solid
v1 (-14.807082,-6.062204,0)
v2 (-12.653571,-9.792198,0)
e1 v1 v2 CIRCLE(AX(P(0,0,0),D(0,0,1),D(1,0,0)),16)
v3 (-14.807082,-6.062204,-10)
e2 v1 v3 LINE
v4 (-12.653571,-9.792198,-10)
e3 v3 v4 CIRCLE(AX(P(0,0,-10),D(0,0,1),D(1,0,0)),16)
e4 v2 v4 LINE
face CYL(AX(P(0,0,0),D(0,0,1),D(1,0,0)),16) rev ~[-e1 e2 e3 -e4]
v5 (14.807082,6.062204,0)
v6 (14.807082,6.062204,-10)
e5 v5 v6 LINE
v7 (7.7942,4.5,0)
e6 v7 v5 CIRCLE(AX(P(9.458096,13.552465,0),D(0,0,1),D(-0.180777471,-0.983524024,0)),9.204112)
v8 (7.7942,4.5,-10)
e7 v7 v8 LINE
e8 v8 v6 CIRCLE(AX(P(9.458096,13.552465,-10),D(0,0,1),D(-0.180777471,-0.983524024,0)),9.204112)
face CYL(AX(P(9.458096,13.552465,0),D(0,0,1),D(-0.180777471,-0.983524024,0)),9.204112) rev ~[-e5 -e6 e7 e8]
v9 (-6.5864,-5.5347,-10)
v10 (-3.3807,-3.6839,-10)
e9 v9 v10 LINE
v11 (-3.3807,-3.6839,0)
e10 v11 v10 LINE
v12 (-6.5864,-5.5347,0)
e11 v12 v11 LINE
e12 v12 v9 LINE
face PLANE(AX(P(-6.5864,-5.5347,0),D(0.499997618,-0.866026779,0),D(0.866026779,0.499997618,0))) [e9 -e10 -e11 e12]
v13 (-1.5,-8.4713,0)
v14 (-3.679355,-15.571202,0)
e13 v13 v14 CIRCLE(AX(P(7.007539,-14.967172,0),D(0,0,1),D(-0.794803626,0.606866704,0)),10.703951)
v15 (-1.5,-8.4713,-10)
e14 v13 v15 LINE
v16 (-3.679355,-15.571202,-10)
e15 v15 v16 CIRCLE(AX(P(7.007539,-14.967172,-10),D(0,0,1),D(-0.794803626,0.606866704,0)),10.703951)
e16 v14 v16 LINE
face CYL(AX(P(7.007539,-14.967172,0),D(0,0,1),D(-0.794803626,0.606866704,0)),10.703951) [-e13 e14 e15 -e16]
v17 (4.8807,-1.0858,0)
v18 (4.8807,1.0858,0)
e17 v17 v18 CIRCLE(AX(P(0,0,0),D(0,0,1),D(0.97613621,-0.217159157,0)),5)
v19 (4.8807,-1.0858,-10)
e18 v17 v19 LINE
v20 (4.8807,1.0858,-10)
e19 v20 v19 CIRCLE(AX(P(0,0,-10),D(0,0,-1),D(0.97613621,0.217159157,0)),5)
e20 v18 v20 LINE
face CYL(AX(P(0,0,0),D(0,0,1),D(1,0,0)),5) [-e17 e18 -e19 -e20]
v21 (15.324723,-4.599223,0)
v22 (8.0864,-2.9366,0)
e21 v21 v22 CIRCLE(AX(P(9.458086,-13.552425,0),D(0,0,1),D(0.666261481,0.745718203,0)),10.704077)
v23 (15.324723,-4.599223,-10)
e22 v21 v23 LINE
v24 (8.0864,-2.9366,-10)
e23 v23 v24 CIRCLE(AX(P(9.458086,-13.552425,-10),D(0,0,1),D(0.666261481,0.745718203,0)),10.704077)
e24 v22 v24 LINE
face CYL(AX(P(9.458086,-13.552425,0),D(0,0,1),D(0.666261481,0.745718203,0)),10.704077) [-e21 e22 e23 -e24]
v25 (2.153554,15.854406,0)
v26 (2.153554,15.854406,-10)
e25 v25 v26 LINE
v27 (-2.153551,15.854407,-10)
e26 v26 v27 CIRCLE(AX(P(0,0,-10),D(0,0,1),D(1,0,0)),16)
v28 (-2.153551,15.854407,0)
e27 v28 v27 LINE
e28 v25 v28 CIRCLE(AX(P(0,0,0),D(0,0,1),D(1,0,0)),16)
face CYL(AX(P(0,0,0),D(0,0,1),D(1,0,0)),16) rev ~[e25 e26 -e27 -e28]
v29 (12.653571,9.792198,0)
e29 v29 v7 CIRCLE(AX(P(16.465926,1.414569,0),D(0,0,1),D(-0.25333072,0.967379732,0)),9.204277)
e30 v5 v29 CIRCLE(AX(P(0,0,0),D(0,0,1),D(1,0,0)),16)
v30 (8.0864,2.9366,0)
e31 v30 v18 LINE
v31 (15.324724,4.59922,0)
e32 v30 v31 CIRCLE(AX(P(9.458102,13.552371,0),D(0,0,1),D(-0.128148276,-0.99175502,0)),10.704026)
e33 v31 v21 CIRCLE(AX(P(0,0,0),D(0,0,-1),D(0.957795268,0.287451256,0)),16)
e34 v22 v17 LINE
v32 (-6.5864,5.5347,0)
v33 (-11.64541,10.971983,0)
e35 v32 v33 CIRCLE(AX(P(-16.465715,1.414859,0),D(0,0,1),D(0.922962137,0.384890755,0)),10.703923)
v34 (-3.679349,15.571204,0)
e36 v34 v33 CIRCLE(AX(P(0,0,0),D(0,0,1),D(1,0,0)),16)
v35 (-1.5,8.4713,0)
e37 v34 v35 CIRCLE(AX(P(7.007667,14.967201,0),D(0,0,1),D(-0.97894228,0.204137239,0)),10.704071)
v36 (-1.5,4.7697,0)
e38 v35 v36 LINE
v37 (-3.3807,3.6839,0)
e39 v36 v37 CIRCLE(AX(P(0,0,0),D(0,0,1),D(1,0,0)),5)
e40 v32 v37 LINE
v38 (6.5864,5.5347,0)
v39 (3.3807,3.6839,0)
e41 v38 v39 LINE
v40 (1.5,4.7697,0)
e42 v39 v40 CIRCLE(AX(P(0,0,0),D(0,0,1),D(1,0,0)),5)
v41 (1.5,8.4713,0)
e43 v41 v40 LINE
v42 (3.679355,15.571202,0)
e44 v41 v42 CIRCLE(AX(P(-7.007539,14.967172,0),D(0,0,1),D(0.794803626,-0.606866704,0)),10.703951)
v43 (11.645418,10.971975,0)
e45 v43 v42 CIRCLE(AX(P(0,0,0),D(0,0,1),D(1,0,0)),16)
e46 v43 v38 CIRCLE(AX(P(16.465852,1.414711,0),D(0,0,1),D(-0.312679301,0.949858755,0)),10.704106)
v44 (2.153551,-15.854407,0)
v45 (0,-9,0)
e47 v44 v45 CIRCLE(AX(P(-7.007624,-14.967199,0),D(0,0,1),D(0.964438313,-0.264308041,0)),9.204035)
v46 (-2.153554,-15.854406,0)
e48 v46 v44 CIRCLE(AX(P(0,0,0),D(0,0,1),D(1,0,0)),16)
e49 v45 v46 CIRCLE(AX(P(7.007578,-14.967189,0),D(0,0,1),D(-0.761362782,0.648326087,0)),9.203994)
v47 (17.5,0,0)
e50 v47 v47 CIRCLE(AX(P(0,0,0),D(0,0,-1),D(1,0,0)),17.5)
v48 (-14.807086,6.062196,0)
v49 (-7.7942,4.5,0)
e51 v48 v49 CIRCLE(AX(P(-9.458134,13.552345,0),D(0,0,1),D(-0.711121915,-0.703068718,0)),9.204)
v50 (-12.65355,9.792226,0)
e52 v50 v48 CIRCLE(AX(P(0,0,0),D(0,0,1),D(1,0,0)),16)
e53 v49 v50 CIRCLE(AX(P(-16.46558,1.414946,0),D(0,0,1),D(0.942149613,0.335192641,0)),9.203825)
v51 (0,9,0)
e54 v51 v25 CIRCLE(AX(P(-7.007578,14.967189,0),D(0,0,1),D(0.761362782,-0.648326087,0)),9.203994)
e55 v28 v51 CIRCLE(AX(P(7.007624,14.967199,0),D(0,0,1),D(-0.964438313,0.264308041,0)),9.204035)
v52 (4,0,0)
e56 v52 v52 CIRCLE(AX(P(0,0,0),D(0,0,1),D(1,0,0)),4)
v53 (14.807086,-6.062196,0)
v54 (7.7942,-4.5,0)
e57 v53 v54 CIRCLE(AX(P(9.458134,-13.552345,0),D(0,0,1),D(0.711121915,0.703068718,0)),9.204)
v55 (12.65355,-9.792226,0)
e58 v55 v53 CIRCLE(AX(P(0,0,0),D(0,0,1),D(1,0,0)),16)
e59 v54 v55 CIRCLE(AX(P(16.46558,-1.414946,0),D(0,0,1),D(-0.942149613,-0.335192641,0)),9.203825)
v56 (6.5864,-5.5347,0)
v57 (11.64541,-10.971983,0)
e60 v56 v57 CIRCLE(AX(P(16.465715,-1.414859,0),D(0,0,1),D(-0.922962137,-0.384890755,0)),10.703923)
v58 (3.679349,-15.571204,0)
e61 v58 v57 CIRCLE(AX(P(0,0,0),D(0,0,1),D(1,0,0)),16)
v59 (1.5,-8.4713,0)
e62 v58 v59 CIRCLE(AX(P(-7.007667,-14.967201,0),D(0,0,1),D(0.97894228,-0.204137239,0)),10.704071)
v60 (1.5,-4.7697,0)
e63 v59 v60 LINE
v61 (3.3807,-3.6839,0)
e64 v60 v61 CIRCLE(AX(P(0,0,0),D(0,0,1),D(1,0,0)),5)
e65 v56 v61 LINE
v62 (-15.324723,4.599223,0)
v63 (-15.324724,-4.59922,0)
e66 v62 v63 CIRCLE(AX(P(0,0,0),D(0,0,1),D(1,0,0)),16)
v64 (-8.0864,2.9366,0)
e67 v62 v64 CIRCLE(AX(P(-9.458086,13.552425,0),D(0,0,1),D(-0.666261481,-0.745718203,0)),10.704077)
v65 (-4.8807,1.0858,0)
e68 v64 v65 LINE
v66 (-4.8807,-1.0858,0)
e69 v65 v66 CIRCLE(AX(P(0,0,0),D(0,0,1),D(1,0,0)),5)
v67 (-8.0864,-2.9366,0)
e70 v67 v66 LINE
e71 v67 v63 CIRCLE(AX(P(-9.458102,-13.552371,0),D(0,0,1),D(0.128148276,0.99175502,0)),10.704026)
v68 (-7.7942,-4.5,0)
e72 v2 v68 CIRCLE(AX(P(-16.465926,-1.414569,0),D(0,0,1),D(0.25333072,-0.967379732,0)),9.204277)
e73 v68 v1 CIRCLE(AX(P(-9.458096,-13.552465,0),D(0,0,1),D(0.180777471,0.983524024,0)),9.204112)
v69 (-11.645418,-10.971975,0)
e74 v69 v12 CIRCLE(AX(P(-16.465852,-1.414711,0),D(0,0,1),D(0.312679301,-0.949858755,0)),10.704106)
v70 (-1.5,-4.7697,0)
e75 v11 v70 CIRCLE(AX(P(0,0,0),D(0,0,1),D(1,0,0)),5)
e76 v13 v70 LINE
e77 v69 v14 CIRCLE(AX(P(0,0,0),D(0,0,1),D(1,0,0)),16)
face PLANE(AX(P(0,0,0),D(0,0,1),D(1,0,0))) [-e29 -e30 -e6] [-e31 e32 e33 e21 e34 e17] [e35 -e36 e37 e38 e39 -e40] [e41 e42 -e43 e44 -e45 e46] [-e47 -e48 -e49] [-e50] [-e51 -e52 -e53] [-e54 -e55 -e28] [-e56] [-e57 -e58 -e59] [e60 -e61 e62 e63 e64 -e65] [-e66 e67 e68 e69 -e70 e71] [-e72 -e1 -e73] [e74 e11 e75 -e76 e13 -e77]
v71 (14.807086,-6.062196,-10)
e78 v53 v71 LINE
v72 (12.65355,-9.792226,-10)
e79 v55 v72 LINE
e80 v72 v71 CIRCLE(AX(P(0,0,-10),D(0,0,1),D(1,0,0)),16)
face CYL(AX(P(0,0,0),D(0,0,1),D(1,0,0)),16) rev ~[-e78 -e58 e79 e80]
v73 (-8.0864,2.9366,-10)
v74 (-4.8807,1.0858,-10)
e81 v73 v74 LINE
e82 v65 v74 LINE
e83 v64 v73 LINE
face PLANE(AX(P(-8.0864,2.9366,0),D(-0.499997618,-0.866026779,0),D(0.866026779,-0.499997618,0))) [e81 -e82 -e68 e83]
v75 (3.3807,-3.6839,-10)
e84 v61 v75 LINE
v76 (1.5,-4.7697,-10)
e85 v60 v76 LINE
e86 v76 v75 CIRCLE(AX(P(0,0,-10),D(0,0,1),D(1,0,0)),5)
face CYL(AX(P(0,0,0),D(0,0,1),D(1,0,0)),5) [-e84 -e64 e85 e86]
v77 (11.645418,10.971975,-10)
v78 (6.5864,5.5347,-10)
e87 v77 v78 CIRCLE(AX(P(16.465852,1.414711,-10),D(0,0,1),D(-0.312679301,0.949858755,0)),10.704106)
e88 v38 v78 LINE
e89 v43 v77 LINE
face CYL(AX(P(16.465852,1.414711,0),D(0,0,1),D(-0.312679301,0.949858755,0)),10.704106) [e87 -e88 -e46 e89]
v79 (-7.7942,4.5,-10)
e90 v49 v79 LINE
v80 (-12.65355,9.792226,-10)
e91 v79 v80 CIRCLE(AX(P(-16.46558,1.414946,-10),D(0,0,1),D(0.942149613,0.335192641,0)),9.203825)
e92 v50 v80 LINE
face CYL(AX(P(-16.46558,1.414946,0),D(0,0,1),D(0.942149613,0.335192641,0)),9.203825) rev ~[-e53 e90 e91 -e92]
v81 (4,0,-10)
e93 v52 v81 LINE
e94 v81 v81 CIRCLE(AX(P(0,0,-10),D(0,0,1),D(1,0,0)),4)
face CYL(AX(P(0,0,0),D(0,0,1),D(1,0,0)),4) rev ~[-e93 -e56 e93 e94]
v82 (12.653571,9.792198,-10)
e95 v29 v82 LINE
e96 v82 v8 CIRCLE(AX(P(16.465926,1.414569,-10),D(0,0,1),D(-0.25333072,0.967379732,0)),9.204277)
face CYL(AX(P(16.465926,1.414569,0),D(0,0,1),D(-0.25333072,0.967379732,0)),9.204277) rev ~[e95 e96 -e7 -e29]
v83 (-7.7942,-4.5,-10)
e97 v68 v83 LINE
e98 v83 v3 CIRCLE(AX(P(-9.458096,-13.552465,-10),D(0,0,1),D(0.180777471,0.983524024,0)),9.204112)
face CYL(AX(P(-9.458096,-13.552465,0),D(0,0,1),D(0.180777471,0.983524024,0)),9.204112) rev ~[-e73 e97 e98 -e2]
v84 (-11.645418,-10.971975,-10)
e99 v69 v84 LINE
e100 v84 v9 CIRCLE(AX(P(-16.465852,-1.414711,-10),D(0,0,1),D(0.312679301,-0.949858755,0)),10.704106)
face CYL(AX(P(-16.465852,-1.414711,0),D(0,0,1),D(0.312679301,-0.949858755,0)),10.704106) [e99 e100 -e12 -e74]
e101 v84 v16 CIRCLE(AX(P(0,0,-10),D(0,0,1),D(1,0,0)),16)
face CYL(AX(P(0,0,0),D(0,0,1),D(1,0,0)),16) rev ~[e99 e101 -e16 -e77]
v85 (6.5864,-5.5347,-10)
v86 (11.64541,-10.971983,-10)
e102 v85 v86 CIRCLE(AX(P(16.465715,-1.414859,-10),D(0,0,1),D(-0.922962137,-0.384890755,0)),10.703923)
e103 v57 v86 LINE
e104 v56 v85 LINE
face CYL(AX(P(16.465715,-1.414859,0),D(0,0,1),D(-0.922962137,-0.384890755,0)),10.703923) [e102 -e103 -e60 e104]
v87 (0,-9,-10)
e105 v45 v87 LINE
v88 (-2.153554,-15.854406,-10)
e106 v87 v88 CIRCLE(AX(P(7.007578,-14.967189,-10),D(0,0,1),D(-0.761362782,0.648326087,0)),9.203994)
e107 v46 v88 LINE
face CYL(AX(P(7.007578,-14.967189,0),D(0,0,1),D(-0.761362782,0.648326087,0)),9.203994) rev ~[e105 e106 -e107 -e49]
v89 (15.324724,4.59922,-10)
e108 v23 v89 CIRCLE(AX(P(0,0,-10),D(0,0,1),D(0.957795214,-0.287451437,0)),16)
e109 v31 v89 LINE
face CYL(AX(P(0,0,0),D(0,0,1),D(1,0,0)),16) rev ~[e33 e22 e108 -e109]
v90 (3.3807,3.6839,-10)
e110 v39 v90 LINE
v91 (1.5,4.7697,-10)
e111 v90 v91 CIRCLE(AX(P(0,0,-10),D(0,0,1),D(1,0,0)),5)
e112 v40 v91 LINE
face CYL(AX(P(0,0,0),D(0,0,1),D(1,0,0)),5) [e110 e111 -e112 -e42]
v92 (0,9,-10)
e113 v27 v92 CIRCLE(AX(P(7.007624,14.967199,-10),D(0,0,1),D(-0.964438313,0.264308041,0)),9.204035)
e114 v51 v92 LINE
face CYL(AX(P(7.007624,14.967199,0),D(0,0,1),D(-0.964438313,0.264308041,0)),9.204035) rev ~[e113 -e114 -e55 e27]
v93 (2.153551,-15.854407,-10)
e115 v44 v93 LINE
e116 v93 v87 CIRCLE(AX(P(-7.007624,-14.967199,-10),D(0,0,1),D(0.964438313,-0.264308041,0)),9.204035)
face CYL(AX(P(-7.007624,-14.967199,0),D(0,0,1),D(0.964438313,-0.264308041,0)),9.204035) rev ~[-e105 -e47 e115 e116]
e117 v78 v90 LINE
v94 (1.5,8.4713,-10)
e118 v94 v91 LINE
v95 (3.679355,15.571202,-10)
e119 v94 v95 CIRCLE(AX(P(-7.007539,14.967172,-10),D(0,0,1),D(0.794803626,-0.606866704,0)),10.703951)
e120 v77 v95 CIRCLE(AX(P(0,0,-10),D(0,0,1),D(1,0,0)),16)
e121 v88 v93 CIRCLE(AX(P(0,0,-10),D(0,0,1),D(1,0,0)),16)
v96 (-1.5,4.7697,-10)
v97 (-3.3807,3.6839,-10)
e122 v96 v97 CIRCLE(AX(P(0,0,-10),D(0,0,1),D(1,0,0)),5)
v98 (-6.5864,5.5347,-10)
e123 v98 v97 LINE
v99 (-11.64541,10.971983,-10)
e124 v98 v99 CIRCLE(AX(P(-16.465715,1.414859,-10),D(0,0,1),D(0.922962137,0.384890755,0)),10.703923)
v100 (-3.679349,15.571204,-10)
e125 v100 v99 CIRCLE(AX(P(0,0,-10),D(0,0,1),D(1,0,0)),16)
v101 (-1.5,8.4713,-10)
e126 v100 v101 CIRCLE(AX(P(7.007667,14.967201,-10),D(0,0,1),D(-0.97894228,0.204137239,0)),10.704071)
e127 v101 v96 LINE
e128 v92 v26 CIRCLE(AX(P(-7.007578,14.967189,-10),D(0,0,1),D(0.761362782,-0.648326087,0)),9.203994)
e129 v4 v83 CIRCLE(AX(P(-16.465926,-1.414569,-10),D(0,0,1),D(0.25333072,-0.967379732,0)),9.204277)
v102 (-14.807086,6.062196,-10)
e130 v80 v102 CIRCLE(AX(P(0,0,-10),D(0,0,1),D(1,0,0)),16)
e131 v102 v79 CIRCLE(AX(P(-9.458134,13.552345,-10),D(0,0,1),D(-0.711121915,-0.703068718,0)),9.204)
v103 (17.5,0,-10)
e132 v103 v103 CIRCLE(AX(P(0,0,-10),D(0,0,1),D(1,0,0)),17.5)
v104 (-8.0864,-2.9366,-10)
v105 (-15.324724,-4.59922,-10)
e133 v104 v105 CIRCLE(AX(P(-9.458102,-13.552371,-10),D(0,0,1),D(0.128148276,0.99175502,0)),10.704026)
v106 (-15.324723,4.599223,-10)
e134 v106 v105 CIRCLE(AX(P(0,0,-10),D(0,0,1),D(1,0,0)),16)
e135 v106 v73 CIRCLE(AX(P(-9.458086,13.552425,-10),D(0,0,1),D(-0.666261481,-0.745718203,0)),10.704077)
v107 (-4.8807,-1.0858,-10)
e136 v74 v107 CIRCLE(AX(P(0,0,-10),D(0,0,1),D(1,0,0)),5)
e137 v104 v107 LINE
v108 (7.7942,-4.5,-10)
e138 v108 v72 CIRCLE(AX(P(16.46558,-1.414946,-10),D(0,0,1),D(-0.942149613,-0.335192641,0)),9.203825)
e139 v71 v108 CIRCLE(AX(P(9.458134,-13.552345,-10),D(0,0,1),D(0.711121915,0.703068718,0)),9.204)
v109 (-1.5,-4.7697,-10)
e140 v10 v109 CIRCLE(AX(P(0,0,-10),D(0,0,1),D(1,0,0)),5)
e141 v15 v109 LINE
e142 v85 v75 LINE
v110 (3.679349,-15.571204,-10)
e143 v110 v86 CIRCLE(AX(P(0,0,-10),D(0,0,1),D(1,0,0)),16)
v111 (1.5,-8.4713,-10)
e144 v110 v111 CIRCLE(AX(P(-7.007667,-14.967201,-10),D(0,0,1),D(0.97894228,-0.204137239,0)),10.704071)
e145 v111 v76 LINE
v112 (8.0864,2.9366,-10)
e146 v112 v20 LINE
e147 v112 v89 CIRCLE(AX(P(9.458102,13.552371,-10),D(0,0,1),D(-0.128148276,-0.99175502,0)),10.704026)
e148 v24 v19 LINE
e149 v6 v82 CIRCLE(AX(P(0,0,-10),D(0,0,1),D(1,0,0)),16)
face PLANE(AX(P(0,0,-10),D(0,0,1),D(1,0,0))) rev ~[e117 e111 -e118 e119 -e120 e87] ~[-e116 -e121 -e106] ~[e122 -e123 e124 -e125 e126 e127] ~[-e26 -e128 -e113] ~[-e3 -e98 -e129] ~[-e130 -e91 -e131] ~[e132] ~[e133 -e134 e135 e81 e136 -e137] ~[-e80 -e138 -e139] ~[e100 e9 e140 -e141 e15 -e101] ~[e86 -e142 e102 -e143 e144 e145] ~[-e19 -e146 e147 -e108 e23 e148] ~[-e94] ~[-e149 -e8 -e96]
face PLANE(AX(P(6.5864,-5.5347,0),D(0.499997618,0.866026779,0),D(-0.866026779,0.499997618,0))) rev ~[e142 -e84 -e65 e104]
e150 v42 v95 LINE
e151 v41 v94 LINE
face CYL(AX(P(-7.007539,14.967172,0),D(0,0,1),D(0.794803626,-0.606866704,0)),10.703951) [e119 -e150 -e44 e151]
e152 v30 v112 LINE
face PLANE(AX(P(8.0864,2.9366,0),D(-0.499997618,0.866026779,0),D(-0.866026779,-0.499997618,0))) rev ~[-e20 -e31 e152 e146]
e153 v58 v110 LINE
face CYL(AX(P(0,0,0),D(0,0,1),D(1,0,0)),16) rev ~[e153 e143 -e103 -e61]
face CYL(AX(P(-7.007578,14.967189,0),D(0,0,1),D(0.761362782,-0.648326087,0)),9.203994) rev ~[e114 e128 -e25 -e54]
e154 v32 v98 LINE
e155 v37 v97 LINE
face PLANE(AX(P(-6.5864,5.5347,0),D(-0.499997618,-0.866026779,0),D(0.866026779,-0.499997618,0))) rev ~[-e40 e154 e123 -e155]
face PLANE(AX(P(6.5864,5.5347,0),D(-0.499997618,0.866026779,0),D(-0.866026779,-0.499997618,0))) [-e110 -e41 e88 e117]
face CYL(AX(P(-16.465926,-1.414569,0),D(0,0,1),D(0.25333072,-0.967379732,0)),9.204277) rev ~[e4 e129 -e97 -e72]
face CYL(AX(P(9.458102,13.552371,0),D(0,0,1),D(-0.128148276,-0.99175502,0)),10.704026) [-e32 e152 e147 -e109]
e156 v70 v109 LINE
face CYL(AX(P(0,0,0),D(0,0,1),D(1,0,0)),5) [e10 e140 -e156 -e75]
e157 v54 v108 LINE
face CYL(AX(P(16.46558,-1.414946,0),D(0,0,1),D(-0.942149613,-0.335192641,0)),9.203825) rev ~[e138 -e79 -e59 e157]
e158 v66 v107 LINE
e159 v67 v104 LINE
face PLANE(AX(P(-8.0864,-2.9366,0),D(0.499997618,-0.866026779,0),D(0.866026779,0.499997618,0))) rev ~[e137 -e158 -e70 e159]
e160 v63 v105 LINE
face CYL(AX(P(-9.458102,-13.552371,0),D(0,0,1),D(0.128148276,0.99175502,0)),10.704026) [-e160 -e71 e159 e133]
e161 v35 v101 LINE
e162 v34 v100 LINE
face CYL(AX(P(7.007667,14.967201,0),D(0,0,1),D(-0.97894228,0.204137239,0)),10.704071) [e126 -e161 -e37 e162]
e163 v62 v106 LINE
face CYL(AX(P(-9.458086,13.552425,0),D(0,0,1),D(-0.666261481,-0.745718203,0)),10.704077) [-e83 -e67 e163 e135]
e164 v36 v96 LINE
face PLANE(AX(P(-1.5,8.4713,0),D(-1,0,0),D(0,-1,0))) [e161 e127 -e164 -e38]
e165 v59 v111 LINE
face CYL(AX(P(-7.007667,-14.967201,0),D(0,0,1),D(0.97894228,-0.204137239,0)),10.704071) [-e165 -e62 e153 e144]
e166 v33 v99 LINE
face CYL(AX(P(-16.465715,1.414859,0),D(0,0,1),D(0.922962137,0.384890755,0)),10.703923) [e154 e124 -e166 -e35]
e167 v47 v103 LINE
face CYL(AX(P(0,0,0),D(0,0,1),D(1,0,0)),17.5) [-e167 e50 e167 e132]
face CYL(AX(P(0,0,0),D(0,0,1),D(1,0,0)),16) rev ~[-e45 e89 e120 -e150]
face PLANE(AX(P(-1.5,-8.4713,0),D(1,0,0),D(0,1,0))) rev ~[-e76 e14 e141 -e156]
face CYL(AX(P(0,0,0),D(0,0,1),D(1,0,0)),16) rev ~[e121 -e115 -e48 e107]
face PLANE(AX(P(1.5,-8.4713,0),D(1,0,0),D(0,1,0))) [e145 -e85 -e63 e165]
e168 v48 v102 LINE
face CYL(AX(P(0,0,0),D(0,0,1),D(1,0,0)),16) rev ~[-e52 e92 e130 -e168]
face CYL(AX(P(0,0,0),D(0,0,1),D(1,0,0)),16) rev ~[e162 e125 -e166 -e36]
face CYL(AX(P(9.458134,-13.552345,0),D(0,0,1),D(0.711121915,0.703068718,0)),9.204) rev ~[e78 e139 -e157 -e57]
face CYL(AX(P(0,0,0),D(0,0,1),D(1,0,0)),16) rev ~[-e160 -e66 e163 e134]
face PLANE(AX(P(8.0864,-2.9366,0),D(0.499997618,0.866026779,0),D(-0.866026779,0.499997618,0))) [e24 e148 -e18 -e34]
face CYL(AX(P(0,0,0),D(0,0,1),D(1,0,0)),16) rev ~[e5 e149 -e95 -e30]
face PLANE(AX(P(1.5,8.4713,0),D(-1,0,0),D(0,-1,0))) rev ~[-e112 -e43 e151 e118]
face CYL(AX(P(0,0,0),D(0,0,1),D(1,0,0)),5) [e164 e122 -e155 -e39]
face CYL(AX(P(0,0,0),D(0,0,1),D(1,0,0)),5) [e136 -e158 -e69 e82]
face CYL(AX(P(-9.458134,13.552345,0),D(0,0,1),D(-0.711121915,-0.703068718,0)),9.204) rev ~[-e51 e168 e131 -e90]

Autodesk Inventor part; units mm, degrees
ref_plane "YZ Plane" through (0, 0, 0) normal (1, 0, 0) x (0, 1, 0)
ref_plane "XZ Plane" through (0, 0, 0) normal (0, 1, 0) x (-1, 0, 0)
ref_plane "XY Plane" through (0, 0, 0) normal (0, 0, 1) x (1, 0, 0)
sketch "Sketch1" plane through (0, 0, 0) normal (0, 0, 1) x (1, 0, 0)
  circle A0 centre (0, 0) radius 17.5
  circle A1 centre (0, 0) radius 5
  line L0 (0, 5) -> (0, 9)
  arc A2 (0, 9) -> (1.8691, 17.3999) centre (-7.0076, 14.9672) ccw
  arc A3 (1.5, 8.4713) -> (3.471, 17.1523) centre (-7.0076, 14.9672) ccw
  line L1 (1.5, 8.4713) -> (1.5, 4.7697)
  arc A4 (-1.8691, 17.3999) -> (0, 9) centre (7.0076, 14.9672) ccw
  arc A5 (-3.471, 17.1523) -> (-1.5, 8.4713) centre (7.0076, 14.9672) ccw
  line L2 (-1.5, 8.4713) -> (-1.5, 4.7697)
  arc A6 (-6.5864, 5.5347) -> (-13.1189, 11.5821) centre (-16.4658, 1.4148) ccw
  arc A7 (-7.7942, 4.5) -> (-14.1342, 10.3186) centre (-16.4658, 1.4148) ccw
  line L3 (-6.5864, 5.5347) -> (-3.3807, 3.6839)
  line L4 (-4.3301, 2.5) -> (-7.7942, 4.5)
  line L5 (-8.0864, 2.9366) -> (-4.8807, 1.0858)
  arc A8 (-16.5898, 5.5702) -> (-8.0864, 2.9366) centre (-9.4581, 13.5524) ccw
  arc A9 (-16.0033, 7.0813) -> (-7.7942, 4.5) centre (-9.4581, 13.5524) ccw
  arc A10 (-8.0864, -2.9366) -> (-16.5898, -5.5702) centre (-9.4581, -13.5524) ccw
  arc A11 (-7.7942, -4.5) -> (-16.0033, -7.0813) centre (-9.4581, -13.5524) ccw
  line L6 (-8.0864, -2.9366) -> (-4.8807, -1.0858)
  line L7 (-4.3301, -2.5) -> (-7.7942, -4.5)
  line L8 (-6.5864, -5.5347) -> (-3.3807, -3.6839)
  arc A12 (-13.1189, -11.5821) -> (-6.5864, -5.5347) centre (-16.4658, -1.4148) ccw
  arc A13 (-14.1342, -10.3186) -> (-7.7942, -4.5) centre (-16.4658, -1.4148) ccw
  arc A14 (-1.5, -8.4713) -> (-3.471, -17.1523) centre (7.0076, -14.9672) ccw
  arc A15 (0, -9) -> (-1.8691, -17.3999) centre (7.0076, -14.9672) ccw
  line L9 (-1.5, -8.4713) -> (-1.5, -4.7697)
  line L10 (0, -5) -> (0, -9)
  line L11 (1.5, -8.4713) -> (1.5, -4.7697)
  arc A16 (3.471, -17.1523) -> (1.5, -8.4713) centre (-7.0076, -14.9672) ccw
  arc A17 (1.8691, -17.3999) -> (0, -9) centre (-7.0076, -14.9672) ccw
  arc A18 (6.5864, -5.5347) -> (13.1189, -11.5821) centre (16.4658, -1.4148) ccw
  arc A19 (7.7942, -4.5) -> (14.1342, -10.3186) centre (16.4658, -1.4148) ccw
  line L12 (6.5864, -5.5347) -> (3.3807, -3.6839)
  line L13 (4.3301, -2.5) -> (7.7942, -4.5)
  line L14 (8.0864, -2.9366) -> (4.8807, -1.0858)
  arc A20 (16.5898, -5.5702) -> (8.0864, -2.9366) centre (9.4581, -13.5524) ccw
  arc A21 (16.0033, -7.0813) -> (7.7942, -4.5) centre (9.4581, -13.5524) ccw
  arc A22 (8.0864, 2.9366) -> (16.5898, 5.5702) centre (9.4581, 13.5524) ccw
  arc A23 (7.7942, 4.5) -> (16.0033, 7.0813) centre (9.4581, 13.5524) ccw
  line L15 (8.0864, 2.9366) -> (4.8807, 1.0858)
  line L16 (4.3301, 2.5) -> (7.7942, 4.5)
  line L17 (6.5864, 5.5347) -> (3.3807, 3.6839)
  arc A24 (13.1189, 11.5821) -> (6.5864, 5.5347) centre (16.4658, 1.4148) ccw
  arc A25 (14.1342, 10.3186) -> (7.7942, 4.5) centre (16.4658, 1.4148) ccw
  circle A26 centre (0, 0) radius 4
  circle A27 centre (0, 0) radius 16
  point P0 (2.1535, 15.8544)
  point P1 (-2.1535, 15.8544)
  point P2 (15.3247, -4.5992)
  point P3 (15.3247, 4.5992)
  point P4 (3.6793, 15.5712)
  point P5 (11.6454, 10.972)
  point P6 (14.8071, 6.0622)
  point P7 (12.6536, 9.7922)
  point P8 (14.8071, -6.0622)
  point P9 (12.6536, -9.7922)
  point P10 (2.1535, -15.8544)
  point P11 (-2.1535, -15.8544)
  point P12 (11.6454, -10.972)
  point P13 (3.6793, -15.5712)
  point P14 (-3.6793, -15.5712)
  point P15 (-11.6454, -10.972)
  point P16 (-12.6536, -9.7922)
  point P17 (-14.8071, -6.0622)
  point P18 (-15.3247, -4.5992)
  point P19 (-15.3247, 4.5992)
  point P20 (-3.6793, 15.5712)
  point P21 (-11.6454, 10.972)
  point P22 (-14.8071, 6.0622)
  point P23 (-12.6536, 9.7922)
  dimension "d10" = 32
  dimension "d0" = 35
  dimension "d1" = 10
  dimension "d2" = 4
  dimension "d3" = 1.5
  dimension "d4" = 0
  dimension "d7" = 360
  dimension "d9" = 8
extrude "Extrusion1" add sketch "Sketch1" against normal blind 10 contours A0 A20 A27 A22 | A22 A27 A23 A0 | A0 A21 A27 A20 | A23 A27 A25 A0 | A22 L15 A1 L16 A23 A27 | A0 A19 A27 A21 | A27 A21 L13 A1 L14 A20 | A25 A27 A24 A0 | A0 A18 A27 A19 | A24 A27 A3 A0 | A25 L16 A1 L17 A24 A27 | A1 | A0 A16 A27 A18 | A27 A18 L12 A1 L13 A19 | A3 A27 A2 A0 | A0 A17 A27 A16 | A2 A27 A4 A0 | A3 L1 A1 L0 A2 A27 | A0 A15 A27 A17 | A27 A17 L10 A1 L11 A16 | A4 A27 A5 A0 | A0 A14 A27 A15 | A5 A27 A6 A0 | A4 L0 A1 L2 A5 A27 | A0 A12 A27 A14 | A27 A14 L9 A1 L10 A15 | A6 A27 A7 A0 | A0 A13 A27 A12 | A7 A27 A9 A0 | A6 L3 A1 L4 A7 A27 | A0 A11 A27 A13 | A27 A13 L7 A1 L8 A12 | A9 A27 A8 A0 | A1 L5 A8 A27 A9 L4 | A0 A10 A27 A11 | L7 A11 A27 A10 L6 A1 | A8 A27 A10 A0
properties part number "kumandaiç"
